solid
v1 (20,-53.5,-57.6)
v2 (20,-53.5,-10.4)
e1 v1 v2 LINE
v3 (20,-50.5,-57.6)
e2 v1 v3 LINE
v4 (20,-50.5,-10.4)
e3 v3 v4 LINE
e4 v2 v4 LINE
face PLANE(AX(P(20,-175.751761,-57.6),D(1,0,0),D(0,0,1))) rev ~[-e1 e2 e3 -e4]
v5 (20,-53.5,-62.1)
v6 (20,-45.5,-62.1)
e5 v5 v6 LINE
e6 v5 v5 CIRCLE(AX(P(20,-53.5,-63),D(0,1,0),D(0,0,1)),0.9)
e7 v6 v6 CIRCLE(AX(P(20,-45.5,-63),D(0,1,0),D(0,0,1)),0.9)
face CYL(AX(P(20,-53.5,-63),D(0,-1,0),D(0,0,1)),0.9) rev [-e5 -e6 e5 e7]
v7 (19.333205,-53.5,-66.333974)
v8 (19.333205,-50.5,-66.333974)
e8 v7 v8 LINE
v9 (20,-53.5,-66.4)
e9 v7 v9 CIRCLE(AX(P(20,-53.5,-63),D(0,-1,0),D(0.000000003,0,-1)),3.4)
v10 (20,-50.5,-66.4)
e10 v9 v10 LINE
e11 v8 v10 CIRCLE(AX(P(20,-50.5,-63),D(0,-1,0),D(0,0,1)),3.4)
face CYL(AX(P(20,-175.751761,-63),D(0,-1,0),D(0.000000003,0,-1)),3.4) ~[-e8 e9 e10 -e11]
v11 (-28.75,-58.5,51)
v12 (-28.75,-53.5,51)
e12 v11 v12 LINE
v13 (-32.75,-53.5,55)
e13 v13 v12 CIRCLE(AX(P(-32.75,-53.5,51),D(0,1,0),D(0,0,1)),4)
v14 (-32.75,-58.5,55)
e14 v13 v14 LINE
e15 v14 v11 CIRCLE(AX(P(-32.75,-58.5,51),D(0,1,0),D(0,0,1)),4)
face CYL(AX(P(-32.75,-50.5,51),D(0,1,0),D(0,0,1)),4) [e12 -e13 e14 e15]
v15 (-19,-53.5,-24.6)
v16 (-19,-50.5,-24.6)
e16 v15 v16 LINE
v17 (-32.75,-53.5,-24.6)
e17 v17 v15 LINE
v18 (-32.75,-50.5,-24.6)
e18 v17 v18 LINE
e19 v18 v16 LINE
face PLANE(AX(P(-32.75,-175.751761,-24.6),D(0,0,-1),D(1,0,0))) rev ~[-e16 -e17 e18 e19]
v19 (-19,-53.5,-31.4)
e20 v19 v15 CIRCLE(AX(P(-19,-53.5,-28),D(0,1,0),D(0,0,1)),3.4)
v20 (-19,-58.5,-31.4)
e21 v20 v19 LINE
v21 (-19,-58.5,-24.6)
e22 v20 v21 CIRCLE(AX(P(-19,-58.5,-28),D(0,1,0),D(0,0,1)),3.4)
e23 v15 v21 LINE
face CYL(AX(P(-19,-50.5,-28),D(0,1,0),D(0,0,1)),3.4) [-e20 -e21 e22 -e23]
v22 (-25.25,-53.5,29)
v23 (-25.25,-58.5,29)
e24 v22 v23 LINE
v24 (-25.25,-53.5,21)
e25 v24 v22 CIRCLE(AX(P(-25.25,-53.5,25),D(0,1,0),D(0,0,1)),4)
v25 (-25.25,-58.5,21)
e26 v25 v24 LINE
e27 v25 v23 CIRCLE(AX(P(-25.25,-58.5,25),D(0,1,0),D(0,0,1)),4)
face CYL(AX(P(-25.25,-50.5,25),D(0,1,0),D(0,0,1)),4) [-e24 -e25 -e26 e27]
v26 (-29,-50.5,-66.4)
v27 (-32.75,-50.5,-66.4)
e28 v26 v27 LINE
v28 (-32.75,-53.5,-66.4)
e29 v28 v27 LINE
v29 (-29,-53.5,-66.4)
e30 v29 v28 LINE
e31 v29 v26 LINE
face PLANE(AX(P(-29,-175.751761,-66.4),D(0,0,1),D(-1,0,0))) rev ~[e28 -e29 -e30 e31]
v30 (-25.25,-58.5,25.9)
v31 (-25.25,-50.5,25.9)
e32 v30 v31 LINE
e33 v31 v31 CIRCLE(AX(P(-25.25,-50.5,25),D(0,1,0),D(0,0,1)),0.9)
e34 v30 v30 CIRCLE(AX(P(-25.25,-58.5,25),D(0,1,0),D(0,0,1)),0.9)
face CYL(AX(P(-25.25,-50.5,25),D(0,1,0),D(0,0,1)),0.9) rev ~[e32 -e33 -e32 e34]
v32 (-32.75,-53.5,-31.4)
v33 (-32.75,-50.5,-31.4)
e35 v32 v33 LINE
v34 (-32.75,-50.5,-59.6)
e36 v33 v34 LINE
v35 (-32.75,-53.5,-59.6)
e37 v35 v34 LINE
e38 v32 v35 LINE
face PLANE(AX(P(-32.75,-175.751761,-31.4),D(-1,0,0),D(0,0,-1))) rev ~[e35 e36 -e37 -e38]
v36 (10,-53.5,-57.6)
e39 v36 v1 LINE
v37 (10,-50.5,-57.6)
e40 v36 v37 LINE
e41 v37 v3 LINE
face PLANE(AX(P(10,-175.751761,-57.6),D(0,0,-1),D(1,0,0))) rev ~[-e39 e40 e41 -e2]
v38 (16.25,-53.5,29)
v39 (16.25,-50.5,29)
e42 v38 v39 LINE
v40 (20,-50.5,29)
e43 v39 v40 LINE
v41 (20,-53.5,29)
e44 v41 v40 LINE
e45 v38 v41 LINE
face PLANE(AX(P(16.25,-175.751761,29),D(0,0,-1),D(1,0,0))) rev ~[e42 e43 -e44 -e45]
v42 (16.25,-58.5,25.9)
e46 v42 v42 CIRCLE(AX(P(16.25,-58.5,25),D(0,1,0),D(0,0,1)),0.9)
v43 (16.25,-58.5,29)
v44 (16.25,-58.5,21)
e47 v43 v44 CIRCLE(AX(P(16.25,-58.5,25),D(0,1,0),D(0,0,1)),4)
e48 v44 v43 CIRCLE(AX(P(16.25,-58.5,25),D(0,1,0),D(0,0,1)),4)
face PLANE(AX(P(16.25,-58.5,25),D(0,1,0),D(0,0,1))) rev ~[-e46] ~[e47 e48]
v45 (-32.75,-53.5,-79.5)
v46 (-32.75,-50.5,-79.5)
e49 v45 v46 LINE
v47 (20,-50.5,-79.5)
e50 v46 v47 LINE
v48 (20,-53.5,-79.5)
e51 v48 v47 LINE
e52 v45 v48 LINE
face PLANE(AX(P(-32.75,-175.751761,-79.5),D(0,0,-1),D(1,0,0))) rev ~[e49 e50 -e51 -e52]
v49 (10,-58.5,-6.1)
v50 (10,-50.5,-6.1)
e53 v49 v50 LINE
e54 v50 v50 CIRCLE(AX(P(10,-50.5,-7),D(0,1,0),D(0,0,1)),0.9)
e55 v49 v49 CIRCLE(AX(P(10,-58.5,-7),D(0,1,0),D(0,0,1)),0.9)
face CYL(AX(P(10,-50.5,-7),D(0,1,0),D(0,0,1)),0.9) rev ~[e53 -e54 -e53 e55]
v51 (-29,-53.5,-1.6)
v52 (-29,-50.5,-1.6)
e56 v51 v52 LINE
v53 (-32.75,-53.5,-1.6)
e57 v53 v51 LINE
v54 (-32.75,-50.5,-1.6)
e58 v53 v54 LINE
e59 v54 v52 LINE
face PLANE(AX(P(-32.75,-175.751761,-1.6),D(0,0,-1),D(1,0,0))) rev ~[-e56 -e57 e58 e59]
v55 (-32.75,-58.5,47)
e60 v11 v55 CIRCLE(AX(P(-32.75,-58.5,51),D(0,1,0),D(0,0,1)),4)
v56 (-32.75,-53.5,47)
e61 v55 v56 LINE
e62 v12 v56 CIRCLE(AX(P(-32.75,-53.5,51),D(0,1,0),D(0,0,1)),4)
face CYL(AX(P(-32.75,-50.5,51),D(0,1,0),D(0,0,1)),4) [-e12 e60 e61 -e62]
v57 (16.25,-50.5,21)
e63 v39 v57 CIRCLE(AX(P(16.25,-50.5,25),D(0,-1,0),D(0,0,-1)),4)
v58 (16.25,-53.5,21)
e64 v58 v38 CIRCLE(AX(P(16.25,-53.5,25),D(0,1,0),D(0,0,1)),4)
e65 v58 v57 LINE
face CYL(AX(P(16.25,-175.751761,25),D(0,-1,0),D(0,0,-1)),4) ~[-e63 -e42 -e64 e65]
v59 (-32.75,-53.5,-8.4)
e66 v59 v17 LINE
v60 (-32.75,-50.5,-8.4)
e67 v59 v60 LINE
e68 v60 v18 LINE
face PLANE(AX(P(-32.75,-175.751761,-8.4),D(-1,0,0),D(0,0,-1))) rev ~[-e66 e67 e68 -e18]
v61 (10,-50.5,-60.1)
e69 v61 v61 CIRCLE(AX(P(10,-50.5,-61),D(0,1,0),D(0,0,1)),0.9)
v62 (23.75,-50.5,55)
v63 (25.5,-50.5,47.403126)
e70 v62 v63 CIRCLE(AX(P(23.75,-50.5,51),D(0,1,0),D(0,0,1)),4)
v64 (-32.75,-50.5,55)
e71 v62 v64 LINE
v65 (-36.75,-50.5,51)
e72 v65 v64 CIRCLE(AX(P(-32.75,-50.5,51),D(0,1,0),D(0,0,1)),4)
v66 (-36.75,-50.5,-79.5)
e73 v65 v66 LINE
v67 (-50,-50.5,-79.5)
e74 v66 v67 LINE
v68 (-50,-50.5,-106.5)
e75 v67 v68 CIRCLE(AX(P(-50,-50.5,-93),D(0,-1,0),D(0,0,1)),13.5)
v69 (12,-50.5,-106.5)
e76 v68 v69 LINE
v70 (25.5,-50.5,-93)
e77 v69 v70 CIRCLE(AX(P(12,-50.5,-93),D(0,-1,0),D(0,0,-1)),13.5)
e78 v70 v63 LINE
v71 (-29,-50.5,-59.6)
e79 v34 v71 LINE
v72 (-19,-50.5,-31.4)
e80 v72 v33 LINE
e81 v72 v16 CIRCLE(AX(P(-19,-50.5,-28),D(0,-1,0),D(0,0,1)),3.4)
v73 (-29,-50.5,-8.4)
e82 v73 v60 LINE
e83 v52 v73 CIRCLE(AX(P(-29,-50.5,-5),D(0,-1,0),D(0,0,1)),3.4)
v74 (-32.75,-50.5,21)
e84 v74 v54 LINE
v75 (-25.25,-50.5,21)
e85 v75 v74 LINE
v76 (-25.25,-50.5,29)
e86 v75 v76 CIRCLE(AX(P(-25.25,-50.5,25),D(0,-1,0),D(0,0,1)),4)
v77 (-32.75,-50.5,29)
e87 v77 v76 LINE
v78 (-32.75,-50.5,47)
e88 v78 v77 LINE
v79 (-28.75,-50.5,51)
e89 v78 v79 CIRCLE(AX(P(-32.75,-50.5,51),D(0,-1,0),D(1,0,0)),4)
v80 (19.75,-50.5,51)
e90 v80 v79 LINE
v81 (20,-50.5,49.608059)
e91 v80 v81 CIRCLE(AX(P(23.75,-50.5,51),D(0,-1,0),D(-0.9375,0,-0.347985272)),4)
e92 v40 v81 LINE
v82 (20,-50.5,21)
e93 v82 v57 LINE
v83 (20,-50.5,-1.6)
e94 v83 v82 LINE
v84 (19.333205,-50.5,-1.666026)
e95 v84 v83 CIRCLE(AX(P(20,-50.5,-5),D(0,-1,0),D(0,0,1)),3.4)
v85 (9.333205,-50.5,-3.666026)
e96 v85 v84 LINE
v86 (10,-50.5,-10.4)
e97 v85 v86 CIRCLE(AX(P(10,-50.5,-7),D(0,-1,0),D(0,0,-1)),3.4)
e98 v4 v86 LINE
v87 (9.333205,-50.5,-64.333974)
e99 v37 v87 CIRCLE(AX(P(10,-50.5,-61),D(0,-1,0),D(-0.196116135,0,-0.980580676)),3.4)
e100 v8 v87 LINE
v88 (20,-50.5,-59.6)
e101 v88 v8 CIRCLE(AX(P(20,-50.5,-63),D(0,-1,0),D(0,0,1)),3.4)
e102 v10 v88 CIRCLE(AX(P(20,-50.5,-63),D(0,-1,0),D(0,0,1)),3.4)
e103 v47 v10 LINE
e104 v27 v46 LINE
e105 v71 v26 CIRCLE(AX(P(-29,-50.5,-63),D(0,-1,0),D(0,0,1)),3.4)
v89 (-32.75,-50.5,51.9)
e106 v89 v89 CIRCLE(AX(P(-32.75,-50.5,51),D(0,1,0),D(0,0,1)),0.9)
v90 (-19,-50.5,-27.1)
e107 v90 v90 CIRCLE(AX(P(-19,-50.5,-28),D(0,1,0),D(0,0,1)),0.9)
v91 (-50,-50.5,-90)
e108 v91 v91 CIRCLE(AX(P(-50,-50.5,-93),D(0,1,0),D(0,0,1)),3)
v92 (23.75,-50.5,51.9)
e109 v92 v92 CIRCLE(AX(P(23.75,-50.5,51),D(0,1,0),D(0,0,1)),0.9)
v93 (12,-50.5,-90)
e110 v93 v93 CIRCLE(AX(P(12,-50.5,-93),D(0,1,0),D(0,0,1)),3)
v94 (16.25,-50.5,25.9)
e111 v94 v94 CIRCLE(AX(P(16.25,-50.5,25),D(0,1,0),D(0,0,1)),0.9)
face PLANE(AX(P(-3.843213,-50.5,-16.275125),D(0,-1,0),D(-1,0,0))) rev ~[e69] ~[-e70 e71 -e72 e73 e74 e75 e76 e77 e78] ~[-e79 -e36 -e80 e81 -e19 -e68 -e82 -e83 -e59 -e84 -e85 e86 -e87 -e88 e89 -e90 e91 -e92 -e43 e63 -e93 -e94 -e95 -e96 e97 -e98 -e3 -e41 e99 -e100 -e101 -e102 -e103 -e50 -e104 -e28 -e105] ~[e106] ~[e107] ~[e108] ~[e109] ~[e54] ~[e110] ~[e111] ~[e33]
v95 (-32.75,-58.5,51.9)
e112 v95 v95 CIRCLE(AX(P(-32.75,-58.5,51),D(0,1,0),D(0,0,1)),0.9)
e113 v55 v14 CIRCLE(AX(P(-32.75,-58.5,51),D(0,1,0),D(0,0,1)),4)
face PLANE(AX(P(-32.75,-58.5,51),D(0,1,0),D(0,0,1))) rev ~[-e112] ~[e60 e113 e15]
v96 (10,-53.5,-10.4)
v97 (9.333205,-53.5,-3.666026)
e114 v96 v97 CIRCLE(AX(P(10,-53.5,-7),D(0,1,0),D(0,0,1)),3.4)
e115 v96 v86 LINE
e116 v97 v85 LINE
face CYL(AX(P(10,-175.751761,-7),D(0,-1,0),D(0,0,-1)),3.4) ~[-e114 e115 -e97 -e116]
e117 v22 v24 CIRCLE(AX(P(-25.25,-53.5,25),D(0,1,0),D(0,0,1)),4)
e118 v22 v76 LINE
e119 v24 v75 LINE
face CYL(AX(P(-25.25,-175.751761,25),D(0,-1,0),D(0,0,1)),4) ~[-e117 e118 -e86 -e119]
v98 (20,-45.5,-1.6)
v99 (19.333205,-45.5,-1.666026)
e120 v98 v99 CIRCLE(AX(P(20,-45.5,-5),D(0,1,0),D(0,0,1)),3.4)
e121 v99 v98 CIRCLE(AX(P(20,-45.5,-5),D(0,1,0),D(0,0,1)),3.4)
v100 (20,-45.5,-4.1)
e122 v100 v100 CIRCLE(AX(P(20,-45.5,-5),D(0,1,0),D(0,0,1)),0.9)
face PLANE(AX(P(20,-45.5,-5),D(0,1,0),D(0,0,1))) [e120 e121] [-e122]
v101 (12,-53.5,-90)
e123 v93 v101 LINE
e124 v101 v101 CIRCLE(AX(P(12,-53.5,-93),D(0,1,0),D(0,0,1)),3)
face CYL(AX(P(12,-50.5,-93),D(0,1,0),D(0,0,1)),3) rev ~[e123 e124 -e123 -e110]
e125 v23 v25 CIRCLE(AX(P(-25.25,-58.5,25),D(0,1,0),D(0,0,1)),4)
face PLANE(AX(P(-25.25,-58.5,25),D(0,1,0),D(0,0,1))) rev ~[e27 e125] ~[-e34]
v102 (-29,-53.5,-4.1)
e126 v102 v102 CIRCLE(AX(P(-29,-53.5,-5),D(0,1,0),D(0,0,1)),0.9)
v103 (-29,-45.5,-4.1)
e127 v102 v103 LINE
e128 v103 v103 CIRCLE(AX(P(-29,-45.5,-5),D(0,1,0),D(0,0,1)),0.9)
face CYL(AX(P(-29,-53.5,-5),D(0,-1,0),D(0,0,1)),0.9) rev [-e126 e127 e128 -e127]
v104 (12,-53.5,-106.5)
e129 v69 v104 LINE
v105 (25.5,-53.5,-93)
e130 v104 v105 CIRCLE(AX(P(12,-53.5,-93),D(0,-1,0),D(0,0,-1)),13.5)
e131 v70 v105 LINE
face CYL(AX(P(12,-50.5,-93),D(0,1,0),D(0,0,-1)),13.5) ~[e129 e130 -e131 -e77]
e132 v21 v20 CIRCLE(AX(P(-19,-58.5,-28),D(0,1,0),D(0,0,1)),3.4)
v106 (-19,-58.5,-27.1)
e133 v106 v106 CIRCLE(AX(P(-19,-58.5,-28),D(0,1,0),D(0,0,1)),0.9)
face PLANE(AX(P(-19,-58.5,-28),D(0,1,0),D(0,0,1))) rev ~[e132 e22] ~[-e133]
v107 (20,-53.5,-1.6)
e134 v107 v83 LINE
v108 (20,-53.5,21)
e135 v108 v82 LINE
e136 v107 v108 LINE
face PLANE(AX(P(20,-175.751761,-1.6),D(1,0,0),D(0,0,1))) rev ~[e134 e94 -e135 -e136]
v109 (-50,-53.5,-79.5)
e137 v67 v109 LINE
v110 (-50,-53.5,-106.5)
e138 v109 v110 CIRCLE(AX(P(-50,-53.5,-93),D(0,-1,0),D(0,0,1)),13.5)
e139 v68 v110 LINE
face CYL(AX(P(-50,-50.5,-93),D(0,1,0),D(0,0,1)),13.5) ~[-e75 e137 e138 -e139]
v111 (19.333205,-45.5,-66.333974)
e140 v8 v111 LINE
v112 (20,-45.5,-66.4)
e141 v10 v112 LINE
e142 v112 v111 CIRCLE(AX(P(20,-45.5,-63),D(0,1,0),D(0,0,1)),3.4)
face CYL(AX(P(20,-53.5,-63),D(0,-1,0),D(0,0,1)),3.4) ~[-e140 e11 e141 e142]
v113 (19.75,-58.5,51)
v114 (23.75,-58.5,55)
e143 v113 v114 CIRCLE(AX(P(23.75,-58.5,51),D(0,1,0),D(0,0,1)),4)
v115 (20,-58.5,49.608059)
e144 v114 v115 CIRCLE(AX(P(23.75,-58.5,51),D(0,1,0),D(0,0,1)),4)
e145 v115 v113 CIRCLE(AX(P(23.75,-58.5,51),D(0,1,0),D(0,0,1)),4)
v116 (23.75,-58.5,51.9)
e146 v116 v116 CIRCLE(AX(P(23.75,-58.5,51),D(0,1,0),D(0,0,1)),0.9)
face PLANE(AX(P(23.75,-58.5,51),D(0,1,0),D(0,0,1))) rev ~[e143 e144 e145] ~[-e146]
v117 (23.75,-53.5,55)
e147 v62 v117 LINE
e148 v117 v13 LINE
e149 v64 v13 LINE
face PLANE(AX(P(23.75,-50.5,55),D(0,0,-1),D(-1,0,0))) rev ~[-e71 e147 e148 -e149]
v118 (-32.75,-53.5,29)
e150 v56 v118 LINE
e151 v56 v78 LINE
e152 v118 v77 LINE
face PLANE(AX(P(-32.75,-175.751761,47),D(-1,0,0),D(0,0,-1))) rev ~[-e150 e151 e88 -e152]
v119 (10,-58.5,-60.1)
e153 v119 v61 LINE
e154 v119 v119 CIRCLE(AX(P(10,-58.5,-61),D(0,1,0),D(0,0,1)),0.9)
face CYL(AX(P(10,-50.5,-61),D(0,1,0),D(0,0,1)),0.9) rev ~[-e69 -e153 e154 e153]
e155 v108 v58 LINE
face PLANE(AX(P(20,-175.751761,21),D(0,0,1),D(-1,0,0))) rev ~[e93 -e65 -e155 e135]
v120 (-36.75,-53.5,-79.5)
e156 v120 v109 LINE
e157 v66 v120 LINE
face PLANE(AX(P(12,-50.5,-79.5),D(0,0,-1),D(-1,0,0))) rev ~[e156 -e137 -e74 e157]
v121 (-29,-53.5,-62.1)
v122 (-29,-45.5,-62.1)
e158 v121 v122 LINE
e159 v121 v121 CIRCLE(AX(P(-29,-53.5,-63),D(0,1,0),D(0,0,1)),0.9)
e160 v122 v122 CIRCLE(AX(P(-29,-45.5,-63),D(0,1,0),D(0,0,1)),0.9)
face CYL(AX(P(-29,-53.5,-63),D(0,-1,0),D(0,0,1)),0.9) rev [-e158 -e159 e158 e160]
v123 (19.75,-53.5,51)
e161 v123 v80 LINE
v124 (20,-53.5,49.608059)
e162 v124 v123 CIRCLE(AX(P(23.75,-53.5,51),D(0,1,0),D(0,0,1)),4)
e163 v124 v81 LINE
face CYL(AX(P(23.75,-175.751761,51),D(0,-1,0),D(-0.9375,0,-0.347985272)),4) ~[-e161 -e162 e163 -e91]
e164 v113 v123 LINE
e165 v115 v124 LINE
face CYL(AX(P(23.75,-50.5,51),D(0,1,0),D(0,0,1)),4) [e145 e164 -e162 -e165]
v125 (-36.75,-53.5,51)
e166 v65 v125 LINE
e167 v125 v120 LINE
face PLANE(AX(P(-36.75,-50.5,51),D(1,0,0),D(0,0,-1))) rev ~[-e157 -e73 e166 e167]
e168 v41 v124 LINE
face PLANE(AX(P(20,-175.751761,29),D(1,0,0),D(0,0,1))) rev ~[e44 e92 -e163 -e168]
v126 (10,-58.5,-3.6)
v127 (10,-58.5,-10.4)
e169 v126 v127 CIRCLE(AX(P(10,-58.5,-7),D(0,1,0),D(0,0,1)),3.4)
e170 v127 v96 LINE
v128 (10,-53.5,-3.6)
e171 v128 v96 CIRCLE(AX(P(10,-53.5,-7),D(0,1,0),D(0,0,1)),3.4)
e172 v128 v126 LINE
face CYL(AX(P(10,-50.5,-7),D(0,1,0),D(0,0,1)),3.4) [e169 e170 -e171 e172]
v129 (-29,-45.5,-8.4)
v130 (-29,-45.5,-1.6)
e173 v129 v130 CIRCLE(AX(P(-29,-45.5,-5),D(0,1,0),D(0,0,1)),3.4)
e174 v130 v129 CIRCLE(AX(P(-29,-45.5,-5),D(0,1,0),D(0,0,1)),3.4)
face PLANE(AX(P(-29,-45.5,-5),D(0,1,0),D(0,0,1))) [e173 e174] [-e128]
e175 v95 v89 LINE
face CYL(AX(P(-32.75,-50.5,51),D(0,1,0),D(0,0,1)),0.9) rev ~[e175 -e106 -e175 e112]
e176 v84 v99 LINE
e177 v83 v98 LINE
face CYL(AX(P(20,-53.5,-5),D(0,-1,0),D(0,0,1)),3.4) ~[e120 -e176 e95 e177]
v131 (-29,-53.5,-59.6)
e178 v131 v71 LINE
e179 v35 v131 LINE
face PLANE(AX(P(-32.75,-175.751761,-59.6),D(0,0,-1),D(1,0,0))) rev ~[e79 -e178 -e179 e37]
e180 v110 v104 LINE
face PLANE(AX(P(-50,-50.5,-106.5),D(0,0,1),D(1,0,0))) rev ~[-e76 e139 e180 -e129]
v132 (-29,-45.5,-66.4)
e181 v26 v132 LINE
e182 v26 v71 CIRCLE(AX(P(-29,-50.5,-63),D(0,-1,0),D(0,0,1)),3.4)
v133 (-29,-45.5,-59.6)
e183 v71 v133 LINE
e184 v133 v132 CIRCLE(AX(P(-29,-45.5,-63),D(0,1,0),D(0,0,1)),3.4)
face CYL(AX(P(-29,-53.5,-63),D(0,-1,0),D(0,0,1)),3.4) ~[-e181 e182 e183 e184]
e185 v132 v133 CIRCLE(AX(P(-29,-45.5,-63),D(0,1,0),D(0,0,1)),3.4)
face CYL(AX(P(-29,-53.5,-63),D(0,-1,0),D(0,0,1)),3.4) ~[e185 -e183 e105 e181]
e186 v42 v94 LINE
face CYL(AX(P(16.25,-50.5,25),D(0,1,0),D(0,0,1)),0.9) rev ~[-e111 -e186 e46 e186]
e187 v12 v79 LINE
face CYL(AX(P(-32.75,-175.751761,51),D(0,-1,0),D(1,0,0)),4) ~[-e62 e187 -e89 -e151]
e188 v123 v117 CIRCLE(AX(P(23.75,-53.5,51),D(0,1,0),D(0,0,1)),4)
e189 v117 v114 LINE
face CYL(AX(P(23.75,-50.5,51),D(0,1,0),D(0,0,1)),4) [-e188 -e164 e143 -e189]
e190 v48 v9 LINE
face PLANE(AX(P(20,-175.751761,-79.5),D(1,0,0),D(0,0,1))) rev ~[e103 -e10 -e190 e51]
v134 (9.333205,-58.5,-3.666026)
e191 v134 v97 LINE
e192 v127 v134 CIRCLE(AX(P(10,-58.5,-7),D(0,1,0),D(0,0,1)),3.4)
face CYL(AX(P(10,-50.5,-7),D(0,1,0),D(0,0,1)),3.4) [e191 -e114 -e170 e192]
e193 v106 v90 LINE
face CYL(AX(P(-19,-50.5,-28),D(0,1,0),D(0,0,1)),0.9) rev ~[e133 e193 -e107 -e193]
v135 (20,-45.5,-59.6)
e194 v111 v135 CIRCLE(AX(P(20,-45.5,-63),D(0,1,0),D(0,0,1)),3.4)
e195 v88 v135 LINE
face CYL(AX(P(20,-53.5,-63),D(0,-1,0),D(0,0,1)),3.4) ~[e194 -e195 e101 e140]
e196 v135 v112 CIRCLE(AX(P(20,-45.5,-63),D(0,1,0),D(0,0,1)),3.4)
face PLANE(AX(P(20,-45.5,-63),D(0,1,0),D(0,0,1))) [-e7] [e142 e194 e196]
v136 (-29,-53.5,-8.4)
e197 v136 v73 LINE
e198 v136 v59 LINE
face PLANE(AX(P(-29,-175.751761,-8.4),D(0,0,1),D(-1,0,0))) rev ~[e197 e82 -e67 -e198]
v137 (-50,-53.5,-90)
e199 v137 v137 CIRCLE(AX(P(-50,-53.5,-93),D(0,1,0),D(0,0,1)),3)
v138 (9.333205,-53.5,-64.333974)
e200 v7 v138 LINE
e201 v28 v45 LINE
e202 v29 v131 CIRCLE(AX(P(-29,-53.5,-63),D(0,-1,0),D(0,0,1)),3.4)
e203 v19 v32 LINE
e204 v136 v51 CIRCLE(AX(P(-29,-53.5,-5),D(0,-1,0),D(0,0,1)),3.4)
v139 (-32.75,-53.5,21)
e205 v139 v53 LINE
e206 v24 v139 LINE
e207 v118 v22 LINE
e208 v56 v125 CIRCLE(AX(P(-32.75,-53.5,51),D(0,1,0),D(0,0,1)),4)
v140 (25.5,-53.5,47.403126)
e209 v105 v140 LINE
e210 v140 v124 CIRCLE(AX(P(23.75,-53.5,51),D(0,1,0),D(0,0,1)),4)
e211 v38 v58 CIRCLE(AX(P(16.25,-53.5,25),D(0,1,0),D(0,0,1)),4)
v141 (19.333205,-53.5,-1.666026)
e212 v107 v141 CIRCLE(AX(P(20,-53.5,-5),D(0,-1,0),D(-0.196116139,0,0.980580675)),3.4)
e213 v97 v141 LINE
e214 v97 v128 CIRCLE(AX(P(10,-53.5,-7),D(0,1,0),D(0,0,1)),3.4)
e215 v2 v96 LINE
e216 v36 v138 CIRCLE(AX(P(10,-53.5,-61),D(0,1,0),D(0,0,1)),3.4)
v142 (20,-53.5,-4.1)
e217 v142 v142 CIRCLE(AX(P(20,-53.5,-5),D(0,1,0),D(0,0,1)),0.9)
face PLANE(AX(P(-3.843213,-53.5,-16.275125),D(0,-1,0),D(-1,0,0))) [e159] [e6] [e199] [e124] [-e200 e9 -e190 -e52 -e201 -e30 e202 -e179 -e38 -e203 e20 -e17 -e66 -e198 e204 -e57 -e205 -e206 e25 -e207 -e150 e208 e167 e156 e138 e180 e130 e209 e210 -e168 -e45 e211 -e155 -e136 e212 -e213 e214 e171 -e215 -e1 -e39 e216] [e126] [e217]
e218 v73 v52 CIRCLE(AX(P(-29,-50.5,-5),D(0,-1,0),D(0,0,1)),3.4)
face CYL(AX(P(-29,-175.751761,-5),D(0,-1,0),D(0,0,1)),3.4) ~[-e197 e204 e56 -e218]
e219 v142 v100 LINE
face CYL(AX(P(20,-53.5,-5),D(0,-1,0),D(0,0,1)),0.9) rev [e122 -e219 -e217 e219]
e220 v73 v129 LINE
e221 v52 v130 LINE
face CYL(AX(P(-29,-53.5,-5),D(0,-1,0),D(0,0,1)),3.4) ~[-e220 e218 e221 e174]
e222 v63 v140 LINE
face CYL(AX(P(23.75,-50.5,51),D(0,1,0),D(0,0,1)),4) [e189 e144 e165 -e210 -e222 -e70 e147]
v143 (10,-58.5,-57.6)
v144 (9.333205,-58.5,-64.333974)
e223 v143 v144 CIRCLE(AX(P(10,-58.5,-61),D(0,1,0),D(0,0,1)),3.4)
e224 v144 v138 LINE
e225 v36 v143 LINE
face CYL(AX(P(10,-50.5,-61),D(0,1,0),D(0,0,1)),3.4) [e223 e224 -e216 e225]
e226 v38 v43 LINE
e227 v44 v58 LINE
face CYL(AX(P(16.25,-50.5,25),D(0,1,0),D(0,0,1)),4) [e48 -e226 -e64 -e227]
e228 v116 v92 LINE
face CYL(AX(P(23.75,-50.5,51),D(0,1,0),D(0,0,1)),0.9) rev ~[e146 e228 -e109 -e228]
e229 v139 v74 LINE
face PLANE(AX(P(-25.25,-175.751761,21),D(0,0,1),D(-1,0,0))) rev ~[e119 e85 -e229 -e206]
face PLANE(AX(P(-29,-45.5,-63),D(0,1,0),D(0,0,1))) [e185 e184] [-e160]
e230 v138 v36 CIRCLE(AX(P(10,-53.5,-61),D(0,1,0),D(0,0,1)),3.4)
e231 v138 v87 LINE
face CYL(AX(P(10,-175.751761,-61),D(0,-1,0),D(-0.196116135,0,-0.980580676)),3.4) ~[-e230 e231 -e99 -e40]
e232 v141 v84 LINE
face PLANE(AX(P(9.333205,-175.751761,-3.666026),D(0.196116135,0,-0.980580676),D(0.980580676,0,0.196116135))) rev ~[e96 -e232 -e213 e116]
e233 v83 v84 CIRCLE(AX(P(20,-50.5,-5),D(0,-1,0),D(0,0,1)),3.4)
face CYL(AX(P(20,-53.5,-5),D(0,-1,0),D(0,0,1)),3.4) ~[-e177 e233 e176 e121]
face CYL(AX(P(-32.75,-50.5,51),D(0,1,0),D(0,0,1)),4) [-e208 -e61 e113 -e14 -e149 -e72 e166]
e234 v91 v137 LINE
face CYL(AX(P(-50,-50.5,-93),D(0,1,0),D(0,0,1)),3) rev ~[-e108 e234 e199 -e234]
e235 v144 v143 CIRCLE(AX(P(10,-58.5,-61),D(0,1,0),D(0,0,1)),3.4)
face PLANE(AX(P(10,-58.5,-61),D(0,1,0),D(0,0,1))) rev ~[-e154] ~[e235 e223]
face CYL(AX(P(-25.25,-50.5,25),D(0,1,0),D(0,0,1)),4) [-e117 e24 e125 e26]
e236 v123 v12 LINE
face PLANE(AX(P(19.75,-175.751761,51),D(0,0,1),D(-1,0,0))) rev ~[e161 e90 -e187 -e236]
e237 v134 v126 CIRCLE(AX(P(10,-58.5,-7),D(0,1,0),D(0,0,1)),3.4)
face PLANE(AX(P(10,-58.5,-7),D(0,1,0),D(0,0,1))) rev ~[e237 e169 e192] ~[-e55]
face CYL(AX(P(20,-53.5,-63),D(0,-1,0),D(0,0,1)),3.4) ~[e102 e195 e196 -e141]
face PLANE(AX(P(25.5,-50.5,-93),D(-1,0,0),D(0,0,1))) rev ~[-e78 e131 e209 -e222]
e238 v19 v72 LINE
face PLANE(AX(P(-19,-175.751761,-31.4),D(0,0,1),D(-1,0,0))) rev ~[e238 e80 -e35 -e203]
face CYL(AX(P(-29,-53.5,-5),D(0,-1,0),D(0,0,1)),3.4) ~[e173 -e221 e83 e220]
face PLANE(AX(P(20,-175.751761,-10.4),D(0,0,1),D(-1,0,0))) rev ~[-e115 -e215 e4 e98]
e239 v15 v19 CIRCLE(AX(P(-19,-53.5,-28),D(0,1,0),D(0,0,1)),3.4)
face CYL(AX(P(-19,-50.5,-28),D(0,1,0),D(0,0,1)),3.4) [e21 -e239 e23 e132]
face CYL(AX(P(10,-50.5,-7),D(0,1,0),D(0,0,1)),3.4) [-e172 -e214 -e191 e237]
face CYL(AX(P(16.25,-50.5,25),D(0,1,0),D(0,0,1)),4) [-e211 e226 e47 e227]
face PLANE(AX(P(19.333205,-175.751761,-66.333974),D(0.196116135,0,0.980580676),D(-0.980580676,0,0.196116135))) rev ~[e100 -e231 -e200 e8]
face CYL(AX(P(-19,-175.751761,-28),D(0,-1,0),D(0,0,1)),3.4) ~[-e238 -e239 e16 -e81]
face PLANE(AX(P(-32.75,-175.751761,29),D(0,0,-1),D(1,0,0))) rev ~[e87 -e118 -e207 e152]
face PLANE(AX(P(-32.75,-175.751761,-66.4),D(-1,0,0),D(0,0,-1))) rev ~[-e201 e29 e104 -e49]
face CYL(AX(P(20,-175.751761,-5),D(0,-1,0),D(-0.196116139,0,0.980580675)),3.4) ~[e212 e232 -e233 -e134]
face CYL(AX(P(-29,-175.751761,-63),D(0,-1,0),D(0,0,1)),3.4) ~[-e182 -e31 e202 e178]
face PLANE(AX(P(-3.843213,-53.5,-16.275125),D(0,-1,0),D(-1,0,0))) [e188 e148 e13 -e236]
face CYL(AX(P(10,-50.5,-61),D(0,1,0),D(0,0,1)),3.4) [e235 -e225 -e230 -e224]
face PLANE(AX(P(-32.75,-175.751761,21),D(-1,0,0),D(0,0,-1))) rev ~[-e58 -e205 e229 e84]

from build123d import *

# Parameters (mm, degrees)
SKETCH2_R                       = 3
SHIFTER_HOLE_IF_DEPTH           = 3
RPI4_SCREW_BOSSES_DEPTH         = 5
RPI4_SCREW_BOSSES_DEPTH_BACK    = 3
SKETCH3_R                       = 3.4
SKETCH3_R_2                     = 0.9
RPI4_SCREW_BOSSES_2_DEPTH       = 5
RPI4_SCREW_BOSSES_2_DEPTH_BACK  = 3
RPI4_SCREW_BOSSES_3_DEPTH       = 5
RPI4_SCREW_BOSSES_3_DEPTH_BACK  = 3
RPI4_SCREW_BOSSES_4_DEPTH       = 5
RPI4_SCREW_BOSSES_4_DEPTH_BACK  = 3
SKETCH4_R                       = 3.4
SKETCH4_R_2                     = 0.9
CAN_SWITCH_SCREW_BOSSES_DEPTH   = 8
CAN_SWITCH_SCREW_BOSSES_2_DEPTH = 8
CAN_SWITCH_SCREW_BOSSES_3_DEPTH = 8
SKETCH5_R                       = 4
SKETCH5_R_2                     = 0.9
F_5V_REG_MOUNT_POSTS_DEPTH      = 8
F_5V_REG_MOUNT_POSTS_2_DEPTH    = 8
F_5V_REG_MOUNT_POSTS_3_DEPTH    = 8
F_5V_REG_MOUNT_POSTS_4_DEPTH    = 8
SKETCH6_R                       = 0.9
IF_LINK_DEPTH                   = 3
CUT_EXTRUDE1_DEPTH              = 125.251760551
CUT_EXTRUDE1_DEPTH_BACK         = 125.251760551


with BuildPart() as part:
    # Sketch2 → SHIFTER HOLE IF (new body)
    with BuildSketch(Plane(origin=(0, -50.5, 0), x_dir=(1, 0, 0), z_dir=(0, 1, 0))):
        with BuildLine():
            Line((-50, 106.5), (12, 106.5))
            ThreePointArc((12, 106.5), (25.5, 93), (12, 79.5))
            Line((12, 79.5), (-50, 79.5))
            ThreePointArc((-50, 79.5), (-63.5, 93), (-50, 106.5))
        make_face()
        with Locations(Location((-50, 93, 0), (0, 0, 270))):
            Circle(SKETCH2_R, mode=Mode.SUBTRACT)
        with Locations(Location((12, 93, 0), (0, 0, 270))):
            Circle(SKETCH2_R, mode=Mode.SUBTRACT)
    extrude(amount=-SHIFTER_HOLE_IF_DEPTH)



with BuildPart() as body_2:
    # Sketch3 → RPI4 SCREW BOSSES (new, two sides: drawn at the far end of the back side and taken through both)
    with BuildSketch(Plane(origin=(0, -50.5, 0), x_dir=(1, 0, 0), z_dir=(0, 1, 0)).offset(-RPI4_SCREW_BOSSES_DEPTH_BACK)):
        with Locations(Location((-29, 63, 0), (0, 0, 270))):
            Circle(SKETCH3_R)
        with Locations(Location((-29, 63, 0), (0, 0, 270))):
            Circle(SKETCH3_R_2, mode=Mode.SUBTRACT)
    extrude(amount=RPI4_SCREW_BOSSES_DEPTH + RPI4_SCREW_BOSSES_DEPTH_BACK)


with BuildPart() as body_3:
    # Sketch3 → RPI4 SCREW BOSSES 2 (new, two sides: drawn at the far end of the back side and taken through both)
    with BuildSketch(Plane(origin=(0, -50.5, 0), x_dir=(1, 0, 0), z_dir=(0, 1, 0)).offset(-RPI4_SCREW_BOSSES_2_DEPTH_BACK)):
        with Locations(Location((20, 63, 0), (0, 0, 270))):
            Circle(SKETCH3_R)
        with Locations(Location((20, 63, 0), (0, 0, 270))):
            Circle(SKETCH3_R_2, mode=Mode.SUBTRACT)
    extrude(amount=RPI4_SCREW_BOSSES_2_DEPTH + RPI4_SCREW_BOSSES_2_DEPTH_BACK)


with BuildPart() as body_4:
    # Sketch3 → RPI4 SCREW BOSSES 3 (new, two sides: drawn at the far end of the back side and taken through both)
    with BuildSketch(Plane(origin=(0, -50.5, 0), x_dir=(1, 0, 0), z_dir=(0, 1, 0)).offset(-RPI4_SCREW_BOSSES_3_DEPTH_BACK)):
        with Locations(Location((20, 5, 0), (0, 0, 270))):
            Circle(SKETCH3_R)
        with Locations(Location((20, 5, 0), (0, 0, 270))):
            Circle(SKETCH3_R_2, mode=Mode.SUBTRACT)
    extrude(amount=RPI4_SCREW_BOSSES_3_DEPTH + RPI4_SCREW_BOSSES_3_DEPTH_BACK)


with BuildPart() as body_5:
    # Sketch3 → RPI4 SCREW BOSSES 4 (new, two sides: drawn at the far end of the back side and taken through both)
    with BuildSketch(Plane(origin=(0, -50.5, 0), x_dir=(1, 0, 0), z_dir=(0, 1, 0)).offset(-RPI4_SCREW_BOSSES_4_DEPTH_BACK)):
        with Locations(Location((-29, 5, 0), (0, 0, 270))):
            Circle(SKETCH3_R)
        with Locations(Location((-29, 5, 0), (0, 0, 270))):
            Circle(SKETCH3_R_2, mode=Mode.SUBTRACT)
    extrude(amount=RPI4_SCREW_BOSSES_4_DEPTH + RPI4_SCREW_BOSSES_4_DEPTH_BACK)


with BuildPart() as body_6:
    # Sketch4 → CAN SWITCH SCREW BOSSES (new body)
    with BuildSketch(Plane(origin=(0, -50.5, 0), x_dir=(1, 0, 0), z_dir=(0, 1, 0))):
        with Locations(Location((10, 61, 0), (0, 0, 270))):
            Circle(SKETCH4_R)
        with Locations(Location((10, 61, 0), (0, 0, 270))):
            Circle(SKETCH4_R_2, mode=Mode.SUBTRACT)
    extrude(amount=-CAN_SWITCH_SCREW_BOSSES_DEPTH)


with BuildPart() as body_7:
    # Sketch4 → CAN SWITCH SCREW BOSSES 2 (new body)
    with BuildSketch(Plane(origin=(0, -50.5, 0), x_dir=(1, 0, 0), z_dir=(0, 1, 0))):
        with Locations(Location((10, 7, 0), (0, 0, 270))):
            Circle(SKETCH4_R)
        with Locations(Location((10, 7, 0), (0, 0, 270))):
            Circle(SKETCH4_R_2, mode=Mode.SUBTRACT)
    extrude(amount=-CAN_SWITCH_SCREW_BOSSES_2_DEPTH)


with BuildPart() as body_8:
    # Sketch4 → CAN SWITCH SCREW BOSSES 3 (new body)
    with BuildSketch(Plane(origin=(0, -50.5, 0), x_dir=(1, 0, 0), z_dir=(0, 1, 0))):
        with Locations(Location((-19, 28, 0), (0, 0, 270))):
            Circle(SKETCH4_R)
        with Locations(Location((-19, 28, 0), (0, 0, 270))):
            Circle(SKETCH4_R_2, mode=Mode.SUBTRACT)
    extrude(amount=-CAN_SWITCH_SCREW_BOSSES_3_DEPTH)


with BuildPart() as body_9:
    # Sketch5 → 5V REG MOUNT POSTS (new body)
    with BuildSketch(Plane(origin=(0, -50.5, 0), x_dir=(1, 0, 0), z_dir=(0, 1, 0))):
        with Locations(Location((-32.75, -51, 0), (0, 0, 270))):
            Circle(SKETCH5_R)
        with Locations(Location((-32.75, -51, 0), (0, 0, 270))):
            Circle(SKETCH5_R_2, mode=Mode.SUBTRACT)
    extrude(amount=-F_5V_REG_MOUNT_POSTS_DEPTH)


with BuildPart() as body_10:
    # Sketch5 → 5V REG MOUNT POSTS 2 (new body)
    with BuildSketch(Plane(origin=(0, -50.5, 0), x_dir=(1, 0, 0), z_dir=(0, 1, 0))):
        with Locations(Location((-25.25, -25, 0), (0, 0, 270))):
            Circle(SKETCH5_R)
        with Locations(Location((-25.25, -25, 0), (0, 0, 270))):
            Circle(SKETCH5_R_2, mode=Mode.SUBTRACT)
    extrude(amount=-F_5V_REG_MOUNT_POSTS_2_DEPTH)


with BuildPart() as body_11:
    # Sketch5 → 5V REG MOUNT POSTS 3 (new body)
    with BuildSketch(Plane(origin=(0, -50.5, 0), x_dir=(1, 0, 0), z_dir=(0, 1, 0))):
        with Locations(Location((16.25, -25, 0), (0, 0, 270))):
            Circle(SKETCH5_R)
        with Locations(Location((16.25, -25, 0), (0, 0, 270))):
            Circle(SKETCH5_R_2, mode=Mode.SUBTRACT)
    extrude(amount=-F_5V_REG_MOUNT_POSTS_3_DEPTH)


with BuildPart() as body_12:
    # Sketch5 → 5V REG MOUNT POSTS 4 (new body)
    with BuildSketch(Plane(origin=(0, -50.5, 0), x_dir=(1, 0, 0), z_dir=(0, 1, 0))):
        with Locations(Location((23.75, -51, 0), (0, 0, 270))):
            Circle(SKETCH5_R)
        with Locations(Location((23.75, -51, 0), (0, 0, 270))):
            Circle(SKETCH5_R_2, mode=Mode.SUBTRACT)
    extrude(amount=-F_5V_REG_MOUNT_POSTS_4_DEPTH)


with BuildPart() as part_1:
    add(part.part)

    add(body_2.part)  # IF LINK merges body 2

    add(body_3.part)  # IF LINK merges body 3

    add(body_4.part)  # IF LINK merges body 4

    add(body_5.part)  # IF LINK merges body 5

    add(body_6.part)  # IF LINK merges body 6

    add(body_7.part)  # IF LINK merges body 7

    add(body_8.part)  # IF LINK merges body 8

    add(body_9.part)  # IF LINK merges body 9

    add(body_10.part)  # IF LINK merges body 10

    add(body_11.part)  # IF LINK merges body 11

    add(body_12.part)  # IF LINK merges body 12
    # Sketch6 → IF LINK (add)
    with BuildSketch(Plane(origin=(0, -50.5, 0), x_dir=(1, 0, 0), z_dir=(0, 1, 0))):
        with BuildLine():
            Line((25.5, 93), (25.5, -47.403126358))
            ThreePointArc((25.5, -47.403126358), (27.647915762, -51.897915762), (23.75, -55))
            Line((23.75, -55), (-32.75, -55))
            ThreePointArc((-32.75, -55), (-35.578427125, -53.828427125), (-36.75, -51))
            Line((-36.75, -51), (-36.75, 79.5))
            Line((-36.75, 79.5), (12, 79.5))
            ThreePointArc((12, 79.5), (21.545941546, 83.454058454), (25.5, 93))
        make_face()
        with Locations(Location((-25.25, -25, 0), (0, 0, 270))):
            Circle(SKETCH6_R, mode=Mode.SUBTRACT)
        with Locations(Location((16.25, -25, 0), (0, 0, 270))):
            Circle(SKETCH6_R, mode=Mode.SUBTRACT)
        with Locations(Location((23.75, -51, 0), (0, 0, 270))):
            Circle(SKETCH6_R, mode=Mode.SUBTRACT)
        with Locations(Location((-32.75, -51, 0), (0, 0, 270))):
            Circle(SKETCH6_R, mode=Mode.SUBTRACT)
        with Locations(Location((-29, 63, 0), (0, 0, 270))):
            Circle(SKETCH6_R, mode=Mode.SUBTRACT)
        with Locations(Location((20, 63, 0), (0, 0, 270))):
            Circle(SKETCH6_R, mode=Mode.SUBTRACT)
        with Locations(Location((10, 61, 0), (0, 0, 270))):
            Circle(SKETCH6_R, mode=Mode.SUBTRACT)
        with Locations(Location((-19, 28, 0), (0, 0, 270))):
            Circle(SKETCH6_R, mode=Mode.SUBTRACT)
        with Locations(Location((10, 7, 0), (0, 0, 270))):
            Circle(SKETCH6_R, mode=Mode.SUBTRACT)
        with Locations(Location((20, 5, 0), (0, 0, 270))):
            Circle(SKETCH6_R, mode=Mode.SUBTRACT)
        with Locations(Location((-29, 5, 0), (0, 0, 270))):
            Circle(SKETCH6_R, mode=Mode.SUBTRACT)
    extrude(amount=-IF_LINK_DEPTH)

    # Sketch7 → Cut-Extrude1 (cut, two sides: drawn at the far end of the back side and taken through both)
    with BuildSketch(Plane(origin=(0, -50.5, 0), x_dir=(1, 0, 0), z_dir=(0, 1, 0)).offset(-CUT_EXTRUDE1_DEPTH_BACK)):
        with BuildLine():
            Line((-32.75, 66.4), (-32.75, 79.5))
            Line((-32.75, 79.5), (20, 79.5))
            Line((20, 79.5), (20, 66.4))
            ThreePointArc((20, 66.4), (19.664972099, 66.383453311), (19.333205141, 66.333974297))
            Line((19.333205141, 66.333974297), (9.333205141, 64.333974297))
            ThreePointArc((9.333205141, 64.333974297), (6.616546689, 60.664972099), (10, 57.6))
            Line((10, 57.6), (20, 57.6))
            Line((20, 57.6), (20, 10.4))
            Line((20, 10.4), (10, 10.4))
            ThreePointArc((10, 10.4), (6.616546689, 7.335027901), (9.333205141, 3.666025703))
            Line((9.333205141, 3.666025703), (19.333205141, 1.666025703))
            ThreePointArc((19.333205141, 1.666025703), (19.664972099, 1.616546689), (20, 1.6))
            Line((20, 1.6), (20, -21))
            Line((20, -21), (16.25, -21))
            ThreePointArc((16.25, -21), (12.25, -25), (16.25, -29))
            Line((16.25, -29), (20, -29))
            Line((20, -29), (20, -49.608058909))
            ThreePointArc((20, -49.608058909), (19.812996063, -50.292893219), (19.75, -51))
            Line((19.75, -51), (-28.75, -51))
            ThreePointArc((-28.75, -51), (-29.921572875, -48.171572875), (-32.75, -47))
            Line((-32.75, -47), (-32.75, -29))
            Line((-32.75, -29), (-25.25, -29))
            ThreePointArc((-25.25, -29), (-21.25, -25), (-25.25, -21))
            Line((-25.25, -21), (-32.75, -21))
            Line((-32.75, -21), (-32.75, 1.6))
            Line((-32.75, 1.6), (-29, 1.6))
            ThreePointArc((-29, 1.6), (-25.6, 5), (-29, 8.4))
            Line((-29, 8.4), (-32.75, 8.4))
            Line((-32.75, 8.4), (-32.75, 24.6))
            Line((-32.75, 24.6), (-19, 24.6))
            ThreePointArc((-19, 24.6), (-15.6, 28), (-19, 31.4))
            Line((-19, 31.4), (-32.75, 31.4))
            Line((-32.75, 31.4), (-32.75, 59.6))
            Line((-32.75, 59.6), (-29, 59.6))
            ThreePointArc((-29, 59.6), (-25.6, 63), (-29, 66.4))
            Line((-29, 66.4), (-32.75, 66.4))
        make_face()
    extrude(amount=CUT_EXTRUDE1_DEPTH + CUT_EXTRUDE1_DEPTH_BACK, mode=Mode.SUBTRACT)


solid = part_1.part
